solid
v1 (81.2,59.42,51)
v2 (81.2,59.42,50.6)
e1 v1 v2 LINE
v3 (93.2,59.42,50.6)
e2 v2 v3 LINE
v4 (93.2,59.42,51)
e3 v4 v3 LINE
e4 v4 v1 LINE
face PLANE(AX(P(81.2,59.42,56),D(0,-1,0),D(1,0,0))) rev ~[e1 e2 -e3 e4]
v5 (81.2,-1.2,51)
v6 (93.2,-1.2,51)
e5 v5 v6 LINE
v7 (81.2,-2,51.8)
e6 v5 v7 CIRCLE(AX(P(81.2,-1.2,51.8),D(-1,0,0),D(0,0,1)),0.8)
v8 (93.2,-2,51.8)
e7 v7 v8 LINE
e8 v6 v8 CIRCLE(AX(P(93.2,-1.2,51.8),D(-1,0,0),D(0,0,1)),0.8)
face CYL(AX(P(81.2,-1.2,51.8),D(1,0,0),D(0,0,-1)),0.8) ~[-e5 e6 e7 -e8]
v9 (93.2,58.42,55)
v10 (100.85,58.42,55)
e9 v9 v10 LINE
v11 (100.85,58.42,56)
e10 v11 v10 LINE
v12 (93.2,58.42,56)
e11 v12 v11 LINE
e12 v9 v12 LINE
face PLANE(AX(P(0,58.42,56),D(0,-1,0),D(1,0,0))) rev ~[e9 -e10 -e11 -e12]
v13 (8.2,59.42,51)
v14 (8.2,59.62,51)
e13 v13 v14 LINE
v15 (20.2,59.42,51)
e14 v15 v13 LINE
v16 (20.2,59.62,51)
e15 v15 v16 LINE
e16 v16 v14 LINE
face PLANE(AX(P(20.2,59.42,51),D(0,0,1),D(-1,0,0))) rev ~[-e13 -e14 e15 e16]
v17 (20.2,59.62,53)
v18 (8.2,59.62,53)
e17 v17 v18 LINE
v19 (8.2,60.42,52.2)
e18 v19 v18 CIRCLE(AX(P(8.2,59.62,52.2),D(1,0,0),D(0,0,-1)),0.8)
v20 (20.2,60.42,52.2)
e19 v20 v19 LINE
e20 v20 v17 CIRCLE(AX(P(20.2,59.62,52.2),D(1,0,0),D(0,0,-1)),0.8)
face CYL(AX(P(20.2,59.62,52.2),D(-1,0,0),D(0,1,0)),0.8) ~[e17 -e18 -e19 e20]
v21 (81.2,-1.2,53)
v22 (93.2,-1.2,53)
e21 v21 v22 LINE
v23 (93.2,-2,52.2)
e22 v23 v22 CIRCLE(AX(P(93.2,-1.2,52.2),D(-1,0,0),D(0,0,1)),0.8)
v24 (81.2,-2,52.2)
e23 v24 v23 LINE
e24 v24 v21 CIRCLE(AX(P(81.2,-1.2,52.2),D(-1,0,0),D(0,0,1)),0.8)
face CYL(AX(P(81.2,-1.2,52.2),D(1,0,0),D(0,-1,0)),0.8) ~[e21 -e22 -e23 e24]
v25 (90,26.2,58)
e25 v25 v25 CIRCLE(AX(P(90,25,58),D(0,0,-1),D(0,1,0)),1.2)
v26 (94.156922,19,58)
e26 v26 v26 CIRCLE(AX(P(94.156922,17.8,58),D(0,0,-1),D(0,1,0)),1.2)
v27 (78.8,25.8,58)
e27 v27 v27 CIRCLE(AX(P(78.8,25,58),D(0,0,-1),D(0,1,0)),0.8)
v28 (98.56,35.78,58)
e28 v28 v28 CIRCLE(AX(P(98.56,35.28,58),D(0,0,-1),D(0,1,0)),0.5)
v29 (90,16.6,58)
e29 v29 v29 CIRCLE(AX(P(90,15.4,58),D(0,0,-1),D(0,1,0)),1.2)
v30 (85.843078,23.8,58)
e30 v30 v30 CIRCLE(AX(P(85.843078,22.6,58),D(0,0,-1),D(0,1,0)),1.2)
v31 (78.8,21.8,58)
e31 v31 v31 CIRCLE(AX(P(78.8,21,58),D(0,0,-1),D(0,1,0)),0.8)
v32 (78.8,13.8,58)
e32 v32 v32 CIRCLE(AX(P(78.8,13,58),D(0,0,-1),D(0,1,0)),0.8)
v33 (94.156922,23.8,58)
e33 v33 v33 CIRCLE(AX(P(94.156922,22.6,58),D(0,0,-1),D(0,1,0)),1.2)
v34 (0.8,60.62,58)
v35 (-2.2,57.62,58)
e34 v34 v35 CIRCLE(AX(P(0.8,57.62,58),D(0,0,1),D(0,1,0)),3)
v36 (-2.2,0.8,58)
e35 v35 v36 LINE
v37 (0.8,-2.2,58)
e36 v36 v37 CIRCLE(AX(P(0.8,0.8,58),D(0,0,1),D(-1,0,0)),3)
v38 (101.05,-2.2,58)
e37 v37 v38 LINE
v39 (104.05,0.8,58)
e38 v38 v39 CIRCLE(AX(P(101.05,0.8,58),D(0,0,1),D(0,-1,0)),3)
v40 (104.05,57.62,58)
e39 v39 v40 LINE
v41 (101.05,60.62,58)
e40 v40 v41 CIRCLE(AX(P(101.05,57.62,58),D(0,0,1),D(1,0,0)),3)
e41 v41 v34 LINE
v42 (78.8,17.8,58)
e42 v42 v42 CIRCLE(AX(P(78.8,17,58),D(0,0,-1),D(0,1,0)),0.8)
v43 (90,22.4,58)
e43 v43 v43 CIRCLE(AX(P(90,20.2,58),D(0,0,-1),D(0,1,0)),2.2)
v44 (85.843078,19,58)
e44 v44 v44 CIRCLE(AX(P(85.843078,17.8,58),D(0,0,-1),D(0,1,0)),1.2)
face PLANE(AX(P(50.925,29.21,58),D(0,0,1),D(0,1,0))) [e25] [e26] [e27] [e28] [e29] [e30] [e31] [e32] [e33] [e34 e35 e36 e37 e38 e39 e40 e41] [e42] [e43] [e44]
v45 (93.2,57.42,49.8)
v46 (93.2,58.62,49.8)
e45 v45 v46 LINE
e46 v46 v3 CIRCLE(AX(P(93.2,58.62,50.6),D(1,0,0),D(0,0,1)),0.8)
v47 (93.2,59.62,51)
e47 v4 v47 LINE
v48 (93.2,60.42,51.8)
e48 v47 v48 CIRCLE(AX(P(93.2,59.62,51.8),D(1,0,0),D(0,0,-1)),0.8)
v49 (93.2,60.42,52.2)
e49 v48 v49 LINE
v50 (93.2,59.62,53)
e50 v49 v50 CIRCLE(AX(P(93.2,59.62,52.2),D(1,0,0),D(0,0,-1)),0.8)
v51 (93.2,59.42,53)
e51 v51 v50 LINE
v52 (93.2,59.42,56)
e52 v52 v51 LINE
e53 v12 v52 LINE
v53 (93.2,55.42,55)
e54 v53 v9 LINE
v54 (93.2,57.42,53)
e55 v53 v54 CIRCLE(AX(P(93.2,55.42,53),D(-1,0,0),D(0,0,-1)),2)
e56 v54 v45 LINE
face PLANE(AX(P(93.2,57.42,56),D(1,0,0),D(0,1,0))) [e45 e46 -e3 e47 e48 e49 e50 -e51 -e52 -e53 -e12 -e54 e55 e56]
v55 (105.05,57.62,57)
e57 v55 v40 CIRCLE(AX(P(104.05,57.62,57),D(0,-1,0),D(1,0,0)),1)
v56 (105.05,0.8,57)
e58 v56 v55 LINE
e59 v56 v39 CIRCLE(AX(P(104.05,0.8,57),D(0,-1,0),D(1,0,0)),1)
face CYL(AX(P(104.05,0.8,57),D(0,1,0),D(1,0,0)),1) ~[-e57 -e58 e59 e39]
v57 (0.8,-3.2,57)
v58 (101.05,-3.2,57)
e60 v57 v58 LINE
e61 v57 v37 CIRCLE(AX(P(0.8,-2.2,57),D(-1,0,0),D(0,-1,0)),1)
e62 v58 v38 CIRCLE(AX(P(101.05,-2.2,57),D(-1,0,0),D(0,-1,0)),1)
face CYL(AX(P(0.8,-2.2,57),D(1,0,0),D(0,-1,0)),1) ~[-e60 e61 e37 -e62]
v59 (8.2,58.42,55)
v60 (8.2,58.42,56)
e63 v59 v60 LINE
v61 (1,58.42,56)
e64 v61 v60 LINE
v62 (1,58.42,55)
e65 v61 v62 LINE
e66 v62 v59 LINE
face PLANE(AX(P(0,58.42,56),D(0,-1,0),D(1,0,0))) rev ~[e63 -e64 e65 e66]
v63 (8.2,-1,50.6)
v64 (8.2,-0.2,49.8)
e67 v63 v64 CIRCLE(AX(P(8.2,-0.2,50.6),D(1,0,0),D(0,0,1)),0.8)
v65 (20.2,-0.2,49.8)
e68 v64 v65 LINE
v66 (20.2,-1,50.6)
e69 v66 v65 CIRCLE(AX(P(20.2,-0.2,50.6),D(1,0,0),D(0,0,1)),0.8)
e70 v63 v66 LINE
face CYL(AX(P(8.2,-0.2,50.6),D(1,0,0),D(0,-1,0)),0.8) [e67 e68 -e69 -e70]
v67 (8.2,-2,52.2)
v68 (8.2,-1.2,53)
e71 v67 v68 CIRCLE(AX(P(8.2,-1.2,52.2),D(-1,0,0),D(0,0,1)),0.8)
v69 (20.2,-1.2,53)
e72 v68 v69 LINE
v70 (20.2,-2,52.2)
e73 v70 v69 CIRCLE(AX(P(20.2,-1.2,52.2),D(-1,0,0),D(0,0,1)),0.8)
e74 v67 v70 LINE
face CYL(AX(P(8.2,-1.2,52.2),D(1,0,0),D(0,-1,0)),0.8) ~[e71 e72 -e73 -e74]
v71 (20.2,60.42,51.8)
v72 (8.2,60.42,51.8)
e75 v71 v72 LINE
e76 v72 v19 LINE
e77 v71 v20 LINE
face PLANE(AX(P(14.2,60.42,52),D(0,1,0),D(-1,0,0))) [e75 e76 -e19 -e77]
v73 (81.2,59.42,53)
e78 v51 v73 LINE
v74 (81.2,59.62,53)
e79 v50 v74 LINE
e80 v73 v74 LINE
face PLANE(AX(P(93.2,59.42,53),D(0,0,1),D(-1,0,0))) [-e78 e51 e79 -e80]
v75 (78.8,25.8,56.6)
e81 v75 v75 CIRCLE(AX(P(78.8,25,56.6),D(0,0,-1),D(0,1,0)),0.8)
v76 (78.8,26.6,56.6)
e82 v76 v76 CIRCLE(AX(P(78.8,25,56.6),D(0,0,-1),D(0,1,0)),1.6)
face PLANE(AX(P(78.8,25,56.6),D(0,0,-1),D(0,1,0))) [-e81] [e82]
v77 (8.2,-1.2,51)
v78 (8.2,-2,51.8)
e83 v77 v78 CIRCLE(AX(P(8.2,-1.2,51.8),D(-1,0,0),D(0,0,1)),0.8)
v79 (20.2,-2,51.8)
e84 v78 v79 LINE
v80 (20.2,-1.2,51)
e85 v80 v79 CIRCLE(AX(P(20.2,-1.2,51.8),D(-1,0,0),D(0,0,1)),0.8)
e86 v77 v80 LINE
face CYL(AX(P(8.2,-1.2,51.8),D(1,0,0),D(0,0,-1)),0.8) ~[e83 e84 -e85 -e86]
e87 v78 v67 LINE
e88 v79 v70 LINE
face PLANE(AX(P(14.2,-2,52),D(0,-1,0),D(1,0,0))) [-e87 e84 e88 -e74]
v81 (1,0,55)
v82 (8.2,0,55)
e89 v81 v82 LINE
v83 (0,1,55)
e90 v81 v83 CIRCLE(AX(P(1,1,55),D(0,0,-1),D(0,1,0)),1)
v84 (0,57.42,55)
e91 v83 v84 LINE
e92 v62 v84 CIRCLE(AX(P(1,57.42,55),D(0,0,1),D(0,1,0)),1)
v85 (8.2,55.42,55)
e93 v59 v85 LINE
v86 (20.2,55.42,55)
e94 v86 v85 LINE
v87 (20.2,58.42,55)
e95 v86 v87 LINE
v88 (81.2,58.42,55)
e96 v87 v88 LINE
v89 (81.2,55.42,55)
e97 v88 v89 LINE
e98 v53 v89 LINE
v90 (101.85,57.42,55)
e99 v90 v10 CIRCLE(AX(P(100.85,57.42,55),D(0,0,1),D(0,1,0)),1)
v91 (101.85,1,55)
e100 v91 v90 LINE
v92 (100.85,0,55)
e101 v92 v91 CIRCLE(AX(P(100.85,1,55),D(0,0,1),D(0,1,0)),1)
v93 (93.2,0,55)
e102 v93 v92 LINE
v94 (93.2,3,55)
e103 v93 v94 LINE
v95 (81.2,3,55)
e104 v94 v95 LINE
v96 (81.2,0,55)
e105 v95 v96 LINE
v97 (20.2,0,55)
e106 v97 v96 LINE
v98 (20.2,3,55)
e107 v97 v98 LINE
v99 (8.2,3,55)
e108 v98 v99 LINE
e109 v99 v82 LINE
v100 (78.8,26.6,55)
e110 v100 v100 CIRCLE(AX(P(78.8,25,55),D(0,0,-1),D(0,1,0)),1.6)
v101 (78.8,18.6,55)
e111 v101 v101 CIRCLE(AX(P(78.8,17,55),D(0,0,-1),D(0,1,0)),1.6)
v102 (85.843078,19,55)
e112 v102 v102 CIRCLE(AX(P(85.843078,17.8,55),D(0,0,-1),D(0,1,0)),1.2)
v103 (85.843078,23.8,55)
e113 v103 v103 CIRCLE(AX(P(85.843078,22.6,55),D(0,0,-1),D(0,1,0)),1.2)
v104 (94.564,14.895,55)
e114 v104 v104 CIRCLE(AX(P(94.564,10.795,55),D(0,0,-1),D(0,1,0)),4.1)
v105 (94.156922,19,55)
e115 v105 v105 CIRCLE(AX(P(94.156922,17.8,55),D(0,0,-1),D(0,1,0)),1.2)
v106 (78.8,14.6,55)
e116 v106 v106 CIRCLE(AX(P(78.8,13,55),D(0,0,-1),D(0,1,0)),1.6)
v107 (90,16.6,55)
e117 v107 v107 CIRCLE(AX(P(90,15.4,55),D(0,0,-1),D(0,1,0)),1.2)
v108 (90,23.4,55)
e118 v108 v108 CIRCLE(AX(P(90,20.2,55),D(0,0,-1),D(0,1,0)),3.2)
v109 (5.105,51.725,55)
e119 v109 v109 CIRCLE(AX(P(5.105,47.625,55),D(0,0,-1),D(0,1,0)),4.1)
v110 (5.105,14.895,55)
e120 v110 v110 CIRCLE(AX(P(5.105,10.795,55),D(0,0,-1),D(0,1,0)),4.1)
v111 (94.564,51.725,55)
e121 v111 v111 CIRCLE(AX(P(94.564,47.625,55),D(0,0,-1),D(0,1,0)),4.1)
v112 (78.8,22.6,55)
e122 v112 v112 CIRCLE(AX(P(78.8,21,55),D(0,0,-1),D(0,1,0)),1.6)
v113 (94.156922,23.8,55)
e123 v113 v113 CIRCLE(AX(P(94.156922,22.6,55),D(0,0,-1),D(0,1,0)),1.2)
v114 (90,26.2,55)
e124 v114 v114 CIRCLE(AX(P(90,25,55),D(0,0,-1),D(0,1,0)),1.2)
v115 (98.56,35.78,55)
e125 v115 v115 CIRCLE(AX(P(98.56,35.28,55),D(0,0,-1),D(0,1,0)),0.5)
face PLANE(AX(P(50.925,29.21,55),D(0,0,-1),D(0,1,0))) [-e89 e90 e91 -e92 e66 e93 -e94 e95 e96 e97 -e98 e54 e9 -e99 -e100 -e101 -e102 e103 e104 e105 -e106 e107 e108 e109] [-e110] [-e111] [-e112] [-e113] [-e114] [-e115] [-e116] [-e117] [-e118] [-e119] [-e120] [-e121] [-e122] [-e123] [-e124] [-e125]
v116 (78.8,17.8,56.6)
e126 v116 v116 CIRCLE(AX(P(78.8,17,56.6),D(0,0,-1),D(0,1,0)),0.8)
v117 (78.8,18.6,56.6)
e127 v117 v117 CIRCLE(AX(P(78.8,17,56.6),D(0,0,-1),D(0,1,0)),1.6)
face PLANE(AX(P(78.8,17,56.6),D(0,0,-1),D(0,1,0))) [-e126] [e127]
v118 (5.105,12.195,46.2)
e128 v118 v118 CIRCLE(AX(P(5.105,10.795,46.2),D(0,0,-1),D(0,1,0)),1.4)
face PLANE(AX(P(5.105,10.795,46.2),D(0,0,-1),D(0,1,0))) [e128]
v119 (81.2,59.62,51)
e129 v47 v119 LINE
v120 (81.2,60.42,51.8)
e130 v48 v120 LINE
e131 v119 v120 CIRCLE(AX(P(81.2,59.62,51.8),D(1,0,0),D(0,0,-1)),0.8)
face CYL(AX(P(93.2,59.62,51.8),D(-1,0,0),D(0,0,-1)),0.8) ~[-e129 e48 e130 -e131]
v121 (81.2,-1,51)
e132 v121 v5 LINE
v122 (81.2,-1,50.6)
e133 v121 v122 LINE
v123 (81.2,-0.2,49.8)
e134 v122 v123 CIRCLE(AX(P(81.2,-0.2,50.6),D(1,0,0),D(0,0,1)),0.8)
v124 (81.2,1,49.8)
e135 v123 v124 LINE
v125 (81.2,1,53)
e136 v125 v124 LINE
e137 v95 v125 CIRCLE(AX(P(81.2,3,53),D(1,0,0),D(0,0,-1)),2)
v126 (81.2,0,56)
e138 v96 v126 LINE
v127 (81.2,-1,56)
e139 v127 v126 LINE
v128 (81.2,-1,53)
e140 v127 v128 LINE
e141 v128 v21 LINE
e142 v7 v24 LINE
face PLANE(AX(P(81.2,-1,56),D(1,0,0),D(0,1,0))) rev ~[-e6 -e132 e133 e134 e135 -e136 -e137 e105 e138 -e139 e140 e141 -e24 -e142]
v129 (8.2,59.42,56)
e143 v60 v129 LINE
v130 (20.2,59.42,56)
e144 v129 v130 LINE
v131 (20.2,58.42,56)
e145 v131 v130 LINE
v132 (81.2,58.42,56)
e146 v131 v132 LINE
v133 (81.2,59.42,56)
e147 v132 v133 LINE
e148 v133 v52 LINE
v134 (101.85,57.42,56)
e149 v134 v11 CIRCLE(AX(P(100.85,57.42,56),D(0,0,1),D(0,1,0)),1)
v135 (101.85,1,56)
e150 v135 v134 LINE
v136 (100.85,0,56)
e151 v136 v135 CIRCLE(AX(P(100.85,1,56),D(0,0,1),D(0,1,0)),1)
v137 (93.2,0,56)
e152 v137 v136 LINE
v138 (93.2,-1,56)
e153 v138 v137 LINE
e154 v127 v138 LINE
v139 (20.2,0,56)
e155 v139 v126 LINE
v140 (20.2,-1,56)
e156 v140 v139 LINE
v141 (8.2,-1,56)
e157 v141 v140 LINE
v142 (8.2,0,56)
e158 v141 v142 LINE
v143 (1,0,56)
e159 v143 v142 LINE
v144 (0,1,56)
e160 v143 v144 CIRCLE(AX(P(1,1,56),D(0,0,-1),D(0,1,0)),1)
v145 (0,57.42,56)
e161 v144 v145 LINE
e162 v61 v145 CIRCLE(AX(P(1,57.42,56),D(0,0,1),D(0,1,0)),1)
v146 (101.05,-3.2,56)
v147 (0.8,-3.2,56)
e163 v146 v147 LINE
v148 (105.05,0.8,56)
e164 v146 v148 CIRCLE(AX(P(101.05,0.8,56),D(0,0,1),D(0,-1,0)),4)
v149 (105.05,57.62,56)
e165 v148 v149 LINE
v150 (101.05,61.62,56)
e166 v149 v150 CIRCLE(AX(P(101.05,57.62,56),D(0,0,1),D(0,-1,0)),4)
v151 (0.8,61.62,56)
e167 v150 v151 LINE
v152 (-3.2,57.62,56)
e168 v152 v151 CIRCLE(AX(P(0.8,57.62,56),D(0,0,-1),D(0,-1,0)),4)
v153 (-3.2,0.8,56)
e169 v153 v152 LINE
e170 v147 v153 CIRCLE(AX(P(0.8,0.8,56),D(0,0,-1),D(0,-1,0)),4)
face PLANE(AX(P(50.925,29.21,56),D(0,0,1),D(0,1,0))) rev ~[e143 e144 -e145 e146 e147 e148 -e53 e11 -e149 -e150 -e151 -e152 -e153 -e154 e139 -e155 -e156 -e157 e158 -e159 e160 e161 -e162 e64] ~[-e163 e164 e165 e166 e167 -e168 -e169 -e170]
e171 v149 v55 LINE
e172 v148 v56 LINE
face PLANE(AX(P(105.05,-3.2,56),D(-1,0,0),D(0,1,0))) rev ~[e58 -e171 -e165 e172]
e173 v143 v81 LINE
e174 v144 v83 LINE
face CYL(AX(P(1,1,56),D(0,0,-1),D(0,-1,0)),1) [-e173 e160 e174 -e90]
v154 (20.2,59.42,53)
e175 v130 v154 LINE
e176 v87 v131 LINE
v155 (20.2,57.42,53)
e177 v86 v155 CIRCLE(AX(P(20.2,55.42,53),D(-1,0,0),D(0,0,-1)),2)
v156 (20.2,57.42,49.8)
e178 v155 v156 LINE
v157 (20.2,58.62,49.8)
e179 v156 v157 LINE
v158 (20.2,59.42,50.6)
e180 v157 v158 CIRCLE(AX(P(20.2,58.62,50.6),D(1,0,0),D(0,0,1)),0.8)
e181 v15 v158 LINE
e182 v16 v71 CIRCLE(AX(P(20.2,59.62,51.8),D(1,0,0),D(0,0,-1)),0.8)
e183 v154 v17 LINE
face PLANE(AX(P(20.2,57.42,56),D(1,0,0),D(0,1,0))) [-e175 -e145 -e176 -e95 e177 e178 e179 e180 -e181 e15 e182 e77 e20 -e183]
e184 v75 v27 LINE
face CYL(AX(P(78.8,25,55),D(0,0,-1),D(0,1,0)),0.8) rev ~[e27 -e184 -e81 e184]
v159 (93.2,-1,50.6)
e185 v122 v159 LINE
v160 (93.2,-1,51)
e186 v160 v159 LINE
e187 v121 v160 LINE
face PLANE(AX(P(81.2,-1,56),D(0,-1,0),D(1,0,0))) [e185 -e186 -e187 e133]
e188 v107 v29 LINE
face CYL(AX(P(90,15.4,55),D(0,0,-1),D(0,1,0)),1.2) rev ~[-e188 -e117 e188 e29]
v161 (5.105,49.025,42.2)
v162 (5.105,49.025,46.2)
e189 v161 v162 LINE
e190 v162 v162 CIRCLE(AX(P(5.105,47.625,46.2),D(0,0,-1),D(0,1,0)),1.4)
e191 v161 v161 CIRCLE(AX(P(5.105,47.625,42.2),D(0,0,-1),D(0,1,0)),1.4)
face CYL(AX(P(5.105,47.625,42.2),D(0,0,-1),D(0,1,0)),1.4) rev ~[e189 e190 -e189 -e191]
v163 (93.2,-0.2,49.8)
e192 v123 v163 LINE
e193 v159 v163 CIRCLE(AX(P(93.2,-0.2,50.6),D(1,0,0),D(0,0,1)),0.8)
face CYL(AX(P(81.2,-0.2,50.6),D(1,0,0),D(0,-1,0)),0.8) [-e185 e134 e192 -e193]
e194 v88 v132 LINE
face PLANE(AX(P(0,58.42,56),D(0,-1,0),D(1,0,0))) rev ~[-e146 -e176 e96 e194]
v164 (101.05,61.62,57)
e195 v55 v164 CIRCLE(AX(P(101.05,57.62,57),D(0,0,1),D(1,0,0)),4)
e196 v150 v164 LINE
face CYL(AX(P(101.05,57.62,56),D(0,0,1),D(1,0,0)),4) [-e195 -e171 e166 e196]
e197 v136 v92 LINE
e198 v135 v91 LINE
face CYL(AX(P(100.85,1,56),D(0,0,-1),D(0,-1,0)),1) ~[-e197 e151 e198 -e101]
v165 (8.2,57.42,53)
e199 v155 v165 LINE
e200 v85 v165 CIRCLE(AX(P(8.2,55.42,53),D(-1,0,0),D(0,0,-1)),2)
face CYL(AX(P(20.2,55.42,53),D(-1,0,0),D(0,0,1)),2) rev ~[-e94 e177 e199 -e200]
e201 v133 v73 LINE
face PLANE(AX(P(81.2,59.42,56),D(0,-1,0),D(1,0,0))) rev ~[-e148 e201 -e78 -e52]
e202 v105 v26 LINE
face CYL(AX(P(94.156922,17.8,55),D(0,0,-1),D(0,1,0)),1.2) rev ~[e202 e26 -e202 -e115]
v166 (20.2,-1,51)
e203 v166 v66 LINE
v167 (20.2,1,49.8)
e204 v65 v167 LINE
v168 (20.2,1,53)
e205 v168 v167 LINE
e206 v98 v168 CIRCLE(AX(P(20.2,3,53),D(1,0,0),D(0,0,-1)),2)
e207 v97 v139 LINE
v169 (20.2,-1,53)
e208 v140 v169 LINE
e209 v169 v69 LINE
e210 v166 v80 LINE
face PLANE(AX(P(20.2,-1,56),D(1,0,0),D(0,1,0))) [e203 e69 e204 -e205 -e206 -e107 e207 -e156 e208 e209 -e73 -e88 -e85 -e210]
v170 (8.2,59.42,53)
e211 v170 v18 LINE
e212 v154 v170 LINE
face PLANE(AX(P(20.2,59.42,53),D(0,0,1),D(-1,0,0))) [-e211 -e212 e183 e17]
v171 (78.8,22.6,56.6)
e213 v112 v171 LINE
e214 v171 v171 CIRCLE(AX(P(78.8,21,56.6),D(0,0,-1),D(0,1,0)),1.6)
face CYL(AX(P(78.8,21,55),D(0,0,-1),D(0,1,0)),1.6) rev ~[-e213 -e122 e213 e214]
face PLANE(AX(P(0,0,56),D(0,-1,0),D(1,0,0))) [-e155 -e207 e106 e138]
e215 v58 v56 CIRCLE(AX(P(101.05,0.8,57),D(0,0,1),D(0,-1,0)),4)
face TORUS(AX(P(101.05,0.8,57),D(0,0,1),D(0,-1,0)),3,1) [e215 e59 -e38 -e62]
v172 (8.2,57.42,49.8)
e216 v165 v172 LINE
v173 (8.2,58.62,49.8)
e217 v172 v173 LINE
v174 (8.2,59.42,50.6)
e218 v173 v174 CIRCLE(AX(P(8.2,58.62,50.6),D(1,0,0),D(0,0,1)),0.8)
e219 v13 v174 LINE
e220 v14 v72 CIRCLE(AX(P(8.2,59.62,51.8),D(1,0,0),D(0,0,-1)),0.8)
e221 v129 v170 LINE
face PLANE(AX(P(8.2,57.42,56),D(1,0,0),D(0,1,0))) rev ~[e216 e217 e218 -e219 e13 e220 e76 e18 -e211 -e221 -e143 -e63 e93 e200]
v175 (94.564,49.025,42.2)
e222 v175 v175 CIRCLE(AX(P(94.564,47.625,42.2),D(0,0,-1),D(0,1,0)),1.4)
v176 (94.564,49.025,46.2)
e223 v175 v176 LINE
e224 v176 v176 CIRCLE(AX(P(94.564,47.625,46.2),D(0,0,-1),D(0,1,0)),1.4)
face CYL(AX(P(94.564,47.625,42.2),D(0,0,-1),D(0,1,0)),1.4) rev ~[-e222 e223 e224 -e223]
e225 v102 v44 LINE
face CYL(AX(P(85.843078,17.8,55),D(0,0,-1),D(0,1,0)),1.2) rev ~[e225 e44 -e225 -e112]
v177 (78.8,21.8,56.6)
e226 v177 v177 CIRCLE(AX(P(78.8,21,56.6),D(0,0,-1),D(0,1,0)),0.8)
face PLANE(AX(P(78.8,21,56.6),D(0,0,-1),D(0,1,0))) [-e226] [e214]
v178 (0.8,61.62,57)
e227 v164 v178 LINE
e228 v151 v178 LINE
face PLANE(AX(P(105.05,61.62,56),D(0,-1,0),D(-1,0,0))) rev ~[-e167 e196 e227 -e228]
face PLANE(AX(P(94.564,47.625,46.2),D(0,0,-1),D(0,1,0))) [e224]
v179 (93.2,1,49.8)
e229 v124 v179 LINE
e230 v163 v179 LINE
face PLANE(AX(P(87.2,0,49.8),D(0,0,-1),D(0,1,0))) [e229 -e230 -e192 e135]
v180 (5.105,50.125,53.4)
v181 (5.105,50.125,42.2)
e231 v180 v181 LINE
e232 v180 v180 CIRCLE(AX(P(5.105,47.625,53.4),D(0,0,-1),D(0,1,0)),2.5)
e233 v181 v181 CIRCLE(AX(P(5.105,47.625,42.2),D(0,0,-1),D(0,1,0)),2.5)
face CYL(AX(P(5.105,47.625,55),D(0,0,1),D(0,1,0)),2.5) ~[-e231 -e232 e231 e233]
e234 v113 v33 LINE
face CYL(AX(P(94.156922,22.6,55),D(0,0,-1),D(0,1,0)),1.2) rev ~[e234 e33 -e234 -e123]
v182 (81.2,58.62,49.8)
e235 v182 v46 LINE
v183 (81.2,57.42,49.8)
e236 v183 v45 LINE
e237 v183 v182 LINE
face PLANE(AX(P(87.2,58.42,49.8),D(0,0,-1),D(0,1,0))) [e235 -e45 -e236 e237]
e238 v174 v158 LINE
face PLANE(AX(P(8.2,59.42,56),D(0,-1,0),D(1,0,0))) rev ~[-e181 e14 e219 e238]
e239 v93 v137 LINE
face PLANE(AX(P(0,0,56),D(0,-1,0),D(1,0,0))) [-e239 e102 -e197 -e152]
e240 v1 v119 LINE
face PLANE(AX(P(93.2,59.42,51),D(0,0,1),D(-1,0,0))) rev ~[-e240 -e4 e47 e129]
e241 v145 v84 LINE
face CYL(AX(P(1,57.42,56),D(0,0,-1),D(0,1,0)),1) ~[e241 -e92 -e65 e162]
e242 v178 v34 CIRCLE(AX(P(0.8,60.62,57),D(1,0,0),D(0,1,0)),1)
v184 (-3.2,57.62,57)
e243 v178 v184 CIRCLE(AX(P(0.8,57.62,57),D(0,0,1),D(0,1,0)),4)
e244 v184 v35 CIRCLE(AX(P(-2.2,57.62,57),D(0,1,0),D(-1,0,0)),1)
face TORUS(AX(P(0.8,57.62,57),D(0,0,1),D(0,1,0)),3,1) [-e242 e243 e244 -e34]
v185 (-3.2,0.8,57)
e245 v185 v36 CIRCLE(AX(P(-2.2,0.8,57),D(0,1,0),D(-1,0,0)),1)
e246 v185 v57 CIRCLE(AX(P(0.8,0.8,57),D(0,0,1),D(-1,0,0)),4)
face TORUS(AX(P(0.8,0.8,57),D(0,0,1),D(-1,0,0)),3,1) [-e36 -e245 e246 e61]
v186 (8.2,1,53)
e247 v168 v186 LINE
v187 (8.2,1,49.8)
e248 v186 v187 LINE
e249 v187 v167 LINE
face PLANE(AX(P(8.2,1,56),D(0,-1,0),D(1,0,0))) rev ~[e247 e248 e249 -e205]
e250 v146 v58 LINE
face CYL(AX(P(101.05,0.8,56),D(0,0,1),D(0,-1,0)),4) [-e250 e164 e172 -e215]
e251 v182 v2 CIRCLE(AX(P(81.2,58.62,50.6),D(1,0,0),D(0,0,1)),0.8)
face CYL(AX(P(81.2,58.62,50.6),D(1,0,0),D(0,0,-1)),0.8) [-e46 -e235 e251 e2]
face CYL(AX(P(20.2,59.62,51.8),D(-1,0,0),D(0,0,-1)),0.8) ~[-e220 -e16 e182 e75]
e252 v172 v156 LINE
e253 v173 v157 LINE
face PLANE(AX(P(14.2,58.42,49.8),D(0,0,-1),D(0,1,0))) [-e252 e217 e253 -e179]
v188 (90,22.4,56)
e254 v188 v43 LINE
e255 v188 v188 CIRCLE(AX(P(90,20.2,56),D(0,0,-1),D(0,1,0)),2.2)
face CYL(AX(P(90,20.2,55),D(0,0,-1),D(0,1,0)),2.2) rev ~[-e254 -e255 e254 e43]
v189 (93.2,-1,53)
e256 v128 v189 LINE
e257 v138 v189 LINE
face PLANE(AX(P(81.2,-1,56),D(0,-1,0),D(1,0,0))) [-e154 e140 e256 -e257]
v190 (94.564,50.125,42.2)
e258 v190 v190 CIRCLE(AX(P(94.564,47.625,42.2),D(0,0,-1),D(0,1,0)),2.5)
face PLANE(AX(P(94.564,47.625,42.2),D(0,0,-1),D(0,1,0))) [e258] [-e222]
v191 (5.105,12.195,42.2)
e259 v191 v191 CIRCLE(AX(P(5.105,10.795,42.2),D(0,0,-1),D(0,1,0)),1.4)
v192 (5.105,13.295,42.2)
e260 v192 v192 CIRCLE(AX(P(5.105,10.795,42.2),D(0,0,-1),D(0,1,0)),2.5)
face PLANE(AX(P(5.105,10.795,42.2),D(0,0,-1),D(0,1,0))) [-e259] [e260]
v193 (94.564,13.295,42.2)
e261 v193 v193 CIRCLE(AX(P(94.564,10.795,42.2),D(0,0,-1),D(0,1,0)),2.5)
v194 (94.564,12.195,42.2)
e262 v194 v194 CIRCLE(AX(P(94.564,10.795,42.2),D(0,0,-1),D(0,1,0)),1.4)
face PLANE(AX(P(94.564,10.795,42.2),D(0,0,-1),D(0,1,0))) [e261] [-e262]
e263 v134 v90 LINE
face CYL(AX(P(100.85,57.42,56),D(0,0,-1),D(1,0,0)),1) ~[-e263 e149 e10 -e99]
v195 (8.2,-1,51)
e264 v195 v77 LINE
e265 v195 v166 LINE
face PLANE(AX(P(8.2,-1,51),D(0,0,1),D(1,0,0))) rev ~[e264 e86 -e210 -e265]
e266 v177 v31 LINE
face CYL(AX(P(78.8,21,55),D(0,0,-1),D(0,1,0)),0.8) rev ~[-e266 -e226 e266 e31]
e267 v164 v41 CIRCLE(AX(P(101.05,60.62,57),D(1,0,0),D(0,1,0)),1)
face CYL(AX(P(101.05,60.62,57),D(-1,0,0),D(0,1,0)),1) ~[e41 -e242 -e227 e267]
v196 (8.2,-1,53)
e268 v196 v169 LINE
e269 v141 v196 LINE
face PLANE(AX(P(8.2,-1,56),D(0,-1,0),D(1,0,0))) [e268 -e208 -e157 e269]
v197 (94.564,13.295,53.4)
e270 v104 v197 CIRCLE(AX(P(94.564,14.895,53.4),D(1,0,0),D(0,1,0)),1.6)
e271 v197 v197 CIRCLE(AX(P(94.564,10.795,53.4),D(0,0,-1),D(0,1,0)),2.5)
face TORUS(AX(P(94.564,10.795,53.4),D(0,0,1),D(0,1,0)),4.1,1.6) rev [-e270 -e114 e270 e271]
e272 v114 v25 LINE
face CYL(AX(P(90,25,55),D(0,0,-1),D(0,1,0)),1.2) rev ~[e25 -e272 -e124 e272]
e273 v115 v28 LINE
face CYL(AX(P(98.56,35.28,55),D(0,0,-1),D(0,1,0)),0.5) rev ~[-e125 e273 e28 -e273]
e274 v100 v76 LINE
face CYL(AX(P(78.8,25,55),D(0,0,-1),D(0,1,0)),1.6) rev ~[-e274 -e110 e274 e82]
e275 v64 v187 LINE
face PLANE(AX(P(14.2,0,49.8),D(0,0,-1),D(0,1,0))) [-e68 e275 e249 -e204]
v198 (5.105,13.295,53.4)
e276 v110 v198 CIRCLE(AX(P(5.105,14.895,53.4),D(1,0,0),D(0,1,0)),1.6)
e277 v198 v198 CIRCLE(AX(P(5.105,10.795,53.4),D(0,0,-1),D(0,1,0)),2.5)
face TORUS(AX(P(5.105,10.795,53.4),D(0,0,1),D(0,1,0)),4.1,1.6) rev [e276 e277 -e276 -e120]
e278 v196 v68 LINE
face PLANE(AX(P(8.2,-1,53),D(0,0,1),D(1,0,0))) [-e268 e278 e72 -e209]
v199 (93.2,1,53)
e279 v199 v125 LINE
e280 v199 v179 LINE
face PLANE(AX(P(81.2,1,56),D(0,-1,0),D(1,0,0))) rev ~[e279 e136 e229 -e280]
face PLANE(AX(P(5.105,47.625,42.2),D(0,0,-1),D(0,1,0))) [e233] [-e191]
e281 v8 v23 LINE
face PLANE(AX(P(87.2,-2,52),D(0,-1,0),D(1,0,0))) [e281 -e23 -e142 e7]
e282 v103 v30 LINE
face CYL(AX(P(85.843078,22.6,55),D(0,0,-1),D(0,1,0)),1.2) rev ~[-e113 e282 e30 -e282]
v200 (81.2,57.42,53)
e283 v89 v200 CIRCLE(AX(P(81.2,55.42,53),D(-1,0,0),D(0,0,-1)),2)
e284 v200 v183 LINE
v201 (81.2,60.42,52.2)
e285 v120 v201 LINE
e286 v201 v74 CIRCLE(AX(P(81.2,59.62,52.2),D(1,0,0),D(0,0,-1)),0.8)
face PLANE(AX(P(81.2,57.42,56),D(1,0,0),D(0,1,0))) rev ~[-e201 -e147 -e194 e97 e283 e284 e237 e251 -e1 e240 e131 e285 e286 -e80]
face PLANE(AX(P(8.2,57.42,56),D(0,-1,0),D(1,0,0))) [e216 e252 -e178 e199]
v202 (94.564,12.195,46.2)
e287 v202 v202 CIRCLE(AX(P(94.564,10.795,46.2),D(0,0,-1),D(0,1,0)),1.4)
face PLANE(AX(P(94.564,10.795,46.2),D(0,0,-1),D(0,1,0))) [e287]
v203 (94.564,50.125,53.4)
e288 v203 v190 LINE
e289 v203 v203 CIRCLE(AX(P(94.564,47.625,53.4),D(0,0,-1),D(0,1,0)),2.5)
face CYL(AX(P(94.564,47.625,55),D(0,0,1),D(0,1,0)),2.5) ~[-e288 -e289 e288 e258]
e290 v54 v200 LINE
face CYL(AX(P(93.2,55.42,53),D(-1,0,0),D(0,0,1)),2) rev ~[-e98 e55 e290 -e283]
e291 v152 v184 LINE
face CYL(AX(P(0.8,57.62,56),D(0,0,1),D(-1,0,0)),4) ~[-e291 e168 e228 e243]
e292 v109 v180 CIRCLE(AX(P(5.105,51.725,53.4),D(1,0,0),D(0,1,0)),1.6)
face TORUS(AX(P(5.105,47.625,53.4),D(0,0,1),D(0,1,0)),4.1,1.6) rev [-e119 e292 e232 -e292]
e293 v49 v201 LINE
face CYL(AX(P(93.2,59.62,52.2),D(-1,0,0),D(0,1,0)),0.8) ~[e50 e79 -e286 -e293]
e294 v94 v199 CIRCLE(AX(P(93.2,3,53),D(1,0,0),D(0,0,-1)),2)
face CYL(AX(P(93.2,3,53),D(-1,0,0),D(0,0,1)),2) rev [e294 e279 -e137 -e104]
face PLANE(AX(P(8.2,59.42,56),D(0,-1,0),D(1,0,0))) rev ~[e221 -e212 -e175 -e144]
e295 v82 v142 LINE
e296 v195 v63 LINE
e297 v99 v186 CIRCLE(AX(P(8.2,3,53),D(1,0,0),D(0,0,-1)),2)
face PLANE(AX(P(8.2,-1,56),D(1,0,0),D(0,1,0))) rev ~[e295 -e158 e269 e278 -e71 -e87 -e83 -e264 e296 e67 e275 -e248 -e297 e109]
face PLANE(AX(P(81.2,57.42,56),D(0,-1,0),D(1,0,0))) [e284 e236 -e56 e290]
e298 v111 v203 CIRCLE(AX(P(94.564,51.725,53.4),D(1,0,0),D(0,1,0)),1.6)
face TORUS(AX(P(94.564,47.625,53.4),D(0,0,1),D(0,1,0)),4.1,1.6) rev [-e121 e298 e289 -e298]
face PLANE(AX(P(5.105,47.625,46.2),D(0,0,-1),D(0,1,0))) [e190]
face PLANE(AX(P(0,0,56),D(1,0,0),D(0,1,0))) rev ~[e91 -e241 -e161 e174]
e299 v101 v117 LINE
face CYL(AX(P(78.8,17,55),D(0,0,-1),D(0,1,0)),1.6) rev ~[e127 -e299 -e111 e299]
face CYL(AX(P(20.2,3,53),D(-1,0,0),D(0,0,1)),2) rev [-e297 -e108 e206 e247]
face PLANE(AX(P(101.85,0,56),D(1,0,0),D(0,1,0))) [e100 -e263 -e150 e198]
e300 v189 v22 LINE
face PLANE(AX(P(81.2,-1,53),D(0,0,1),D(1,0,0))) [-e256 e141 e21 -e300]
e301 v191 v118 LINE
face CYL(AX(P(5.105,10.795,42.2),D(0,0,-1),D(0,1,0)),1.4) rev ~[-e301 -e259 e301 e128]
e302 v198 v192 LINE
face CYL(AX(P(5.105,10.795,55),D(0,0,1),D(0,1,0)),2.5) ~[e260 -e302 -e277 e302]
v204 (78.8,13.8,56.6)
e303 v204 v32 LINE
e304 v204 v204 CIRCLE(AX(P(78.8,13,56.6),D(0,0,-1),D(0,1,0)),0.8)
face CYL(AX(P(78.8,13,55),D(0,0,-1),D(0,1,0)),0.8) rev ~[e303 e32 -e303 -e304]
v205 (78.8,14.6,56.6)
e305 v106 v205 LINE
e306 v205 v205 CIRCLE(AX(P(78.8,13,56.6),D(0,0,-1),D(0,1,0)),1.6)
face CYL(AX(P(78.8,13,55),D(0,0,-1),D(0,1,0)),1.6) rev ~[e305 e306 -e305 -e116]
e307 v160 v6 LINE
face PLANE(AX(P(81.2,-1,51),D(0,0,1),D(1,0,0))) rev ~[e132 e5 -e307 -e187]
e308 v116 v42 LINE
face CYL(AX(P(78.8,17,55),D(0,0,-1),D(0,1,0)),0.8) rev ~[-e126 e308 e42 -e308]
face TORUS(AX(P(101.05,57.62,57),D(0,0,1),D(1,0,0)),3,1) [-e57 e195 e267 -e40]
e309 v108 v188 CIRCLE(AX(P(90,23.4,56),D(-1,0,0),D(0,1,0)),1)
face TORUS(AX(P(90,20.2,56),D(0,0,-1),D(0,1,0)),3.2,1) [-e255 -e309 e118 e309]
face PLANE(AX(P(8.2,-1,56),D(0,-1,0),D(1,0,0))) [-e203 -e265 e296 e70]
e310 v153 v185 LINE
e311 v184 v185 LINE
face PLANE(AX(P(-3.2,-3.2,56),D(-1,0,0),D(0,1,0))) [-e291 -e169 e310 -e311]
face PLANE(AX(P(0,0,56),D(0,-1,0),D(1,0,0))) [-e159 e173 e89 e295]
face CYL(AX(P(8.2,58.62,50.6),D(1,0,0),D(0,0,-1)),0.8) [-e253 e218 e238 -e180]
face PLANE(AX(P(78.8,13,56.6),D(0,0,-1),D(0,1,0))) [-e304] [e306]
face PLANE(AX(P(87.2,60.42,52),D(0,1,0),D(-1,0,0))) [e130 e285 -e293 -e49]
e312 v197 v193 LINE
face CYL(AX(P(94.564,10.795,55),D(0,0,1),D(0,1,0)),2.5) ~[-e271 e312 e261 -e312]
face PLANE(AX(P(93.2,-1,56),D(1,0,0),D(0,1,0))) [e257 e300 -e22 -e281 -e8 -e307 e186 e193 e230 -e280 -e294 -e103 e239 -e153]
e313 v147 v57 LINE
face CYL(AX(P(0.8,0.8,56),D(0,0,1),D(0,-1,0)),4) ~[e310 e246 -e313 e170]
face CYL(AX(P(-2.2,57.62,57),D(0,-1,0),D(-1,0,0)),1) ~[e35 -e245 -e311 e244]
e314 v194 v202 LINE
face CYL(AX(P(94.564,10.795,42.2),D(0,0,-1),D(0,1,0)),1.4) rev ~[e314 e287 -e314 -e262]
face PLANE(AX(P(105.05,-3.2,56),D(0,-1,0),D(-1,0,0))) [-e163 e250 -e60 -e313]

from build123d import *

# Parameters (mm, degrees)
SKETCH012_W     = 64.82
SKETCH012_H     = 108.25
PAD003_DEPTH    = 2
SKETCH017_W     = 58.42
SKETCH017_H     = 101.85
PAD004_DEPTH    = 1
SKETCH018_R     = 2.5
PAD005_DEPTH    = 12.8
SKETCH019_R     = 1.4
POCKET008_DEPTH = 4
SKETCH020_R     = 0.8
SKETCH020_R_2   = 2.2
SKETCH020_R_3   = 0.5
SKETCH020_R_4   = 1.2
POCKET009_DEPTH = 3.001
SKETCH021_W     = 2
SKETCH021_H     = 12
PAD006_DEPTH    = 6.2
SKETCH022_W     = 12
SKETCH022_H     = 2
PAD007_DEPTH    = 1
SKETCH023_W     = 12
SKETCH023_H     = 2
PAD008_DEPTH    = 1
FILLET004_R     = 4
FILLET005_R     = 1
FILLET006_R     = 1
FILLET007_R     = 0.8
FILLET008_R     = 0.8
FILLET009_R     = 0.8
FILLET011_R     = 1.6
FILLET012_R     = 2
FILLET015_R     = 1
SKETCH030_R     = 1.6
POCKET014_DEPTH = 1.6


with BuildPart() as part:
    # Sketch012 (on DatumPlane) → Pad003 (new body)
    with BuildSketch(Plane(origin=(50.925, 29.21, 49), x_dir=(0, 1, 0), z_dir=(0, 0, 1))):
        Rectangle(SKETCH012_W, SKETCH012_H)
    extrude(amount=PAD003_DEPTH)

    # Sketch017 (on Face5 of Pad003) → Pad004 (join)
    with BuildSketch(Plane(origin=(50.925, 29.21, 49), x_dir=(0, 1, 0), z_dir=(0, 0, -1))):
        Rectangle(SKETCH017_W, SKETCH017_H)
    extrude(amount=PAD004_DEPTH)

    # Sketch018 (on DatumPlane) → Pad005 (join)
    with BuildSketch(Plane(origin=(50.925, 29.21, 48), x_dir=(0, 1, 0), z_dir=(0, 0, -1))):
        with Locations((-18.415, 43.639)):
            Circle(SKETCH018_R)
        with Locations((18.415, 43.639)):
            Circle(SKETCH018_R)
        with Locations((-18.415, -45.82)):
            Circle(SKETCH018_R)
        with Locations((18.415, -45.82)):
            Circle(SKETCH018_R)
    extrude(amount=PAD005_DEPTH)

    # Sketch019 (on DatumPlane) → Pocket008 (cut)
    with BuildSketch(Plane(origin=(50.925, 29.21, 35.2), x_dir=(0, 1, 0), z_dir=(0, 0, -1))):
        with Locations((-18.415, -45.82)):
            Circle(SKETCH019_R)
        with Locations((18.415, -45.82)):
            Circle(SKETCH019_R)
        with Locations((-18.415, 43.639)):
            Circle(SKETCH019_R)
        with Locations((18.415, 43.639)):
            Circle(SKETCH019_R)
    extrude(amount=-POCKET008_DEPTH, mode=Mode.SUBTRACT)

    # Sketch020 (on DatumPlane) → Pocket009 (cut, through all)
    with BuildSketch(Plane(origin=(50.925, 29.21, 48), x_dir=(0, 1, 0), z_dir=(0, 0, -1))):
        with Locations((-16.21, 27.875)):
            Circle(SKETCH020_R)
        with Locations((-12.21, 27.875)):
            Circle(SKETCH020_R)
        with Locations((-8.21, 27.875)):
            Circle(SKETCH020_R)
        with Locations((-4.21, 27.875)):
            Circle(SKETCH020_R)
        with Locations((-9.01, 39.075)):
            Circle(SKETCH020_R_2)
        with Locations((6.07, 47.635)):
            Circle(SKETCH020_R_3)
        with Locations((-6.61, 34.918078)):
            Circle(SKETCH020_R_4)
        with Locations((-11.41, 34.918078)):
            Circle(SKETCH020_R_4)
        with Locations((-13.81, 39.075)):
            Circle(SKETCH020_R_4)
        with Locations((-11.41, 43.231922)):
            Circle(SKETCH020_R_4)
        with Locations((-6.61, 43.231922)):
            Circle(SKETCH020_R_4)
        with Locations((-4.21, 39.075)):
            Circle(SKETCH020_R_4)
    extrude(amount=-POCKET009_DEPTH, mode=Mode.SUBTRACT)

    # Sketch021 (on DatumPlane) → Pad006 (join)
    with BuildSketch(Plane(origin=(50.925, 29.21, 49), x_dir=(0, 1, 0), z_dir=(0, 0, -1))):
        with Locations((-29.21, -36.725)):
            Rectangle(SKETCH021_W, SKETCH021_H)
        with Locations((-29.21, 36.275)):
            Rectangle(SKETCH021_W, SKETCH021_H)
        with Locations((29.21, 36.275)):
            Rectangle(SKETCH021_W, SKETCH021_H)
        with Locations((29.21, -36.725)):
            Rectangle(SKETCH021_W, SKETCH021_H)
    extrude(amount=PAD006_DEPTH)

    # Sketch022 (on Face14 of Pad006) → Pad007 (join)
    with BuildSketch(Plane(origin=(50.925, 59.42, 49), x_dir=(-1, 0, 0), z_dir=(0, 1, 0))):
        with Locations((-36.275, -4)):
            Rectangle(SKETCH022_W, SKETCH022_H)
        with Locations((36.725, -4)):
            Rectangle(SKETCH022_W, SKETCH022_H)
    extrude(amount=PAD007_DEPTH)

    # Sketch023 (on Face24 of Pad007) → Pad008 (join)
    with BuildSketch(Plane(origin=(50.925, -1, 49), x_dir=(1, 0, 0), z_dir=(0, -1, 0))):
        with Locations((-36.725, -4)):
            Rectangle(SKETCH023_W, SKETCH023_H)
        with Locations((36.275, -4)):
            Rectangle(SKETCH023_W, SKETCH023_H)
    extrude(amount=PAD008_DEPTH)

    # Fillet004
    fillet004_edges = [part.edges().sort_by_distance(p)[0] for p in [
        (-3.2, 61.62, 50),
        (105.05, 61.62, 50),
        (105.05, -3.2, 50),
        (-3.2, -3.2, 50),
    ]]
    fillet(fillet004_edges, radius=FILLET004_R)

    # Fillet005
    fillet005_edges = [part.edges().sort_by_distance(p)[0] for p in [
        (0, 58.42, 48.5),
        (0, 0, 48.5),
        (101.85, 0, 48.5),
        (101.85, 58.42, 48.5),
    ]]
    fillet(fillet005_edges, radius=FILLET005_R)

    # Fillet006
    fillet006_edges = [part.edges().sort_by_distance(p)[0] for p in [
        (50.925, 61.62, 51),
    ]]
    fillet(fillet006_edges, radius=FILLET006_R)

    # Fillet007
    fillet007_edges = [part.edges().sort_by_distance(p)[0] for p in [
        (87.2, 59.42, 42.8),
        (14.2, 59.42, 42.8),
        (14.2, -1, 42.8),
        (87.2, -1, 42.8),
    ]]
    fillet(fillet007_edges, radius=FILLET007_R)

    # Fillet008
    fillet008_edges = [part.edges().sort_by_distance(p)[0] for p in [
        (14.2, -2, 44),
        (87.2, -2, 44),
        (87.2, 60.42, 44),
        (14.2, 60.42, 44),
    ]]
    fillet(fillet008_edges, radius=FILLET008_R)

    # Fillet009
    fillet009_edges = [part.edges().sort_by_distance(p)[0] for p in [
        (87.2, -2, 46),
        (14.2, -2, 46),
        (87.2, 60.42, 46),
        (14.2, 60.42, 46),
    ]]
    fillet(fillet009_edges, radius=FILLET009_R)

    # Fillet011
    fillet011_edges = [part.edges().sort_by_distance(p)[0] for p in [
        (5.105, 8.295, 48),
        (5.105, 45.125, 48),
        (94.564, 8.295, 48),
        (94.564, 45.125, 48),
    ]]
    fillet(fillet011_edges, radius=FILLET011_R)

    # Fillet012
    fillet012_edges = [part.edges().sort_by_distance(p)[0] for p in [
        (87.2, 1, 48),
        (87.2, 57.42, 48),
        (14.2, 1, 48),
        (14.2, 57.42, 48),
    ]]
    fillet(fillet012_edges, radius=FILLET012_R)

    # Fillet015
    fillet015_edges = [part.edges().sort_by_distance(p)[0] for p in [
        (90, 18, 48),
    ]]
    fillet(fillet015_edges, radius=FILLET015_R)

    # Sketch030 (on Face1 of Fillet015) → Pocket014 (cut)
    with BuildSketch(Plane(origin=(50.925, 29.21, 48), x_dir=(0, 1, 0), z_dir=(0, 0, -1))):
        with Locations((-16.21, 27.875)):
            Circle(SKETCH030_R)
        with Locations((-12.21, 27.875)):
            Circle(SKETCH030_R)
        with Locations((-8.21, 27.875)):
            Circle(SKETCH030_R)
        with Locations((-4.21, 27.875)):
            Circle(SKETCH030_R)
    extrude(amount=-POCKET014_DEPTH, mode=Mode.SUBTRACT)


with BuildPart() as part_1:
    # Body002 placement: moved
    add(part.part.moved(Location((0, 0, 7))))


solid = part_1.part
